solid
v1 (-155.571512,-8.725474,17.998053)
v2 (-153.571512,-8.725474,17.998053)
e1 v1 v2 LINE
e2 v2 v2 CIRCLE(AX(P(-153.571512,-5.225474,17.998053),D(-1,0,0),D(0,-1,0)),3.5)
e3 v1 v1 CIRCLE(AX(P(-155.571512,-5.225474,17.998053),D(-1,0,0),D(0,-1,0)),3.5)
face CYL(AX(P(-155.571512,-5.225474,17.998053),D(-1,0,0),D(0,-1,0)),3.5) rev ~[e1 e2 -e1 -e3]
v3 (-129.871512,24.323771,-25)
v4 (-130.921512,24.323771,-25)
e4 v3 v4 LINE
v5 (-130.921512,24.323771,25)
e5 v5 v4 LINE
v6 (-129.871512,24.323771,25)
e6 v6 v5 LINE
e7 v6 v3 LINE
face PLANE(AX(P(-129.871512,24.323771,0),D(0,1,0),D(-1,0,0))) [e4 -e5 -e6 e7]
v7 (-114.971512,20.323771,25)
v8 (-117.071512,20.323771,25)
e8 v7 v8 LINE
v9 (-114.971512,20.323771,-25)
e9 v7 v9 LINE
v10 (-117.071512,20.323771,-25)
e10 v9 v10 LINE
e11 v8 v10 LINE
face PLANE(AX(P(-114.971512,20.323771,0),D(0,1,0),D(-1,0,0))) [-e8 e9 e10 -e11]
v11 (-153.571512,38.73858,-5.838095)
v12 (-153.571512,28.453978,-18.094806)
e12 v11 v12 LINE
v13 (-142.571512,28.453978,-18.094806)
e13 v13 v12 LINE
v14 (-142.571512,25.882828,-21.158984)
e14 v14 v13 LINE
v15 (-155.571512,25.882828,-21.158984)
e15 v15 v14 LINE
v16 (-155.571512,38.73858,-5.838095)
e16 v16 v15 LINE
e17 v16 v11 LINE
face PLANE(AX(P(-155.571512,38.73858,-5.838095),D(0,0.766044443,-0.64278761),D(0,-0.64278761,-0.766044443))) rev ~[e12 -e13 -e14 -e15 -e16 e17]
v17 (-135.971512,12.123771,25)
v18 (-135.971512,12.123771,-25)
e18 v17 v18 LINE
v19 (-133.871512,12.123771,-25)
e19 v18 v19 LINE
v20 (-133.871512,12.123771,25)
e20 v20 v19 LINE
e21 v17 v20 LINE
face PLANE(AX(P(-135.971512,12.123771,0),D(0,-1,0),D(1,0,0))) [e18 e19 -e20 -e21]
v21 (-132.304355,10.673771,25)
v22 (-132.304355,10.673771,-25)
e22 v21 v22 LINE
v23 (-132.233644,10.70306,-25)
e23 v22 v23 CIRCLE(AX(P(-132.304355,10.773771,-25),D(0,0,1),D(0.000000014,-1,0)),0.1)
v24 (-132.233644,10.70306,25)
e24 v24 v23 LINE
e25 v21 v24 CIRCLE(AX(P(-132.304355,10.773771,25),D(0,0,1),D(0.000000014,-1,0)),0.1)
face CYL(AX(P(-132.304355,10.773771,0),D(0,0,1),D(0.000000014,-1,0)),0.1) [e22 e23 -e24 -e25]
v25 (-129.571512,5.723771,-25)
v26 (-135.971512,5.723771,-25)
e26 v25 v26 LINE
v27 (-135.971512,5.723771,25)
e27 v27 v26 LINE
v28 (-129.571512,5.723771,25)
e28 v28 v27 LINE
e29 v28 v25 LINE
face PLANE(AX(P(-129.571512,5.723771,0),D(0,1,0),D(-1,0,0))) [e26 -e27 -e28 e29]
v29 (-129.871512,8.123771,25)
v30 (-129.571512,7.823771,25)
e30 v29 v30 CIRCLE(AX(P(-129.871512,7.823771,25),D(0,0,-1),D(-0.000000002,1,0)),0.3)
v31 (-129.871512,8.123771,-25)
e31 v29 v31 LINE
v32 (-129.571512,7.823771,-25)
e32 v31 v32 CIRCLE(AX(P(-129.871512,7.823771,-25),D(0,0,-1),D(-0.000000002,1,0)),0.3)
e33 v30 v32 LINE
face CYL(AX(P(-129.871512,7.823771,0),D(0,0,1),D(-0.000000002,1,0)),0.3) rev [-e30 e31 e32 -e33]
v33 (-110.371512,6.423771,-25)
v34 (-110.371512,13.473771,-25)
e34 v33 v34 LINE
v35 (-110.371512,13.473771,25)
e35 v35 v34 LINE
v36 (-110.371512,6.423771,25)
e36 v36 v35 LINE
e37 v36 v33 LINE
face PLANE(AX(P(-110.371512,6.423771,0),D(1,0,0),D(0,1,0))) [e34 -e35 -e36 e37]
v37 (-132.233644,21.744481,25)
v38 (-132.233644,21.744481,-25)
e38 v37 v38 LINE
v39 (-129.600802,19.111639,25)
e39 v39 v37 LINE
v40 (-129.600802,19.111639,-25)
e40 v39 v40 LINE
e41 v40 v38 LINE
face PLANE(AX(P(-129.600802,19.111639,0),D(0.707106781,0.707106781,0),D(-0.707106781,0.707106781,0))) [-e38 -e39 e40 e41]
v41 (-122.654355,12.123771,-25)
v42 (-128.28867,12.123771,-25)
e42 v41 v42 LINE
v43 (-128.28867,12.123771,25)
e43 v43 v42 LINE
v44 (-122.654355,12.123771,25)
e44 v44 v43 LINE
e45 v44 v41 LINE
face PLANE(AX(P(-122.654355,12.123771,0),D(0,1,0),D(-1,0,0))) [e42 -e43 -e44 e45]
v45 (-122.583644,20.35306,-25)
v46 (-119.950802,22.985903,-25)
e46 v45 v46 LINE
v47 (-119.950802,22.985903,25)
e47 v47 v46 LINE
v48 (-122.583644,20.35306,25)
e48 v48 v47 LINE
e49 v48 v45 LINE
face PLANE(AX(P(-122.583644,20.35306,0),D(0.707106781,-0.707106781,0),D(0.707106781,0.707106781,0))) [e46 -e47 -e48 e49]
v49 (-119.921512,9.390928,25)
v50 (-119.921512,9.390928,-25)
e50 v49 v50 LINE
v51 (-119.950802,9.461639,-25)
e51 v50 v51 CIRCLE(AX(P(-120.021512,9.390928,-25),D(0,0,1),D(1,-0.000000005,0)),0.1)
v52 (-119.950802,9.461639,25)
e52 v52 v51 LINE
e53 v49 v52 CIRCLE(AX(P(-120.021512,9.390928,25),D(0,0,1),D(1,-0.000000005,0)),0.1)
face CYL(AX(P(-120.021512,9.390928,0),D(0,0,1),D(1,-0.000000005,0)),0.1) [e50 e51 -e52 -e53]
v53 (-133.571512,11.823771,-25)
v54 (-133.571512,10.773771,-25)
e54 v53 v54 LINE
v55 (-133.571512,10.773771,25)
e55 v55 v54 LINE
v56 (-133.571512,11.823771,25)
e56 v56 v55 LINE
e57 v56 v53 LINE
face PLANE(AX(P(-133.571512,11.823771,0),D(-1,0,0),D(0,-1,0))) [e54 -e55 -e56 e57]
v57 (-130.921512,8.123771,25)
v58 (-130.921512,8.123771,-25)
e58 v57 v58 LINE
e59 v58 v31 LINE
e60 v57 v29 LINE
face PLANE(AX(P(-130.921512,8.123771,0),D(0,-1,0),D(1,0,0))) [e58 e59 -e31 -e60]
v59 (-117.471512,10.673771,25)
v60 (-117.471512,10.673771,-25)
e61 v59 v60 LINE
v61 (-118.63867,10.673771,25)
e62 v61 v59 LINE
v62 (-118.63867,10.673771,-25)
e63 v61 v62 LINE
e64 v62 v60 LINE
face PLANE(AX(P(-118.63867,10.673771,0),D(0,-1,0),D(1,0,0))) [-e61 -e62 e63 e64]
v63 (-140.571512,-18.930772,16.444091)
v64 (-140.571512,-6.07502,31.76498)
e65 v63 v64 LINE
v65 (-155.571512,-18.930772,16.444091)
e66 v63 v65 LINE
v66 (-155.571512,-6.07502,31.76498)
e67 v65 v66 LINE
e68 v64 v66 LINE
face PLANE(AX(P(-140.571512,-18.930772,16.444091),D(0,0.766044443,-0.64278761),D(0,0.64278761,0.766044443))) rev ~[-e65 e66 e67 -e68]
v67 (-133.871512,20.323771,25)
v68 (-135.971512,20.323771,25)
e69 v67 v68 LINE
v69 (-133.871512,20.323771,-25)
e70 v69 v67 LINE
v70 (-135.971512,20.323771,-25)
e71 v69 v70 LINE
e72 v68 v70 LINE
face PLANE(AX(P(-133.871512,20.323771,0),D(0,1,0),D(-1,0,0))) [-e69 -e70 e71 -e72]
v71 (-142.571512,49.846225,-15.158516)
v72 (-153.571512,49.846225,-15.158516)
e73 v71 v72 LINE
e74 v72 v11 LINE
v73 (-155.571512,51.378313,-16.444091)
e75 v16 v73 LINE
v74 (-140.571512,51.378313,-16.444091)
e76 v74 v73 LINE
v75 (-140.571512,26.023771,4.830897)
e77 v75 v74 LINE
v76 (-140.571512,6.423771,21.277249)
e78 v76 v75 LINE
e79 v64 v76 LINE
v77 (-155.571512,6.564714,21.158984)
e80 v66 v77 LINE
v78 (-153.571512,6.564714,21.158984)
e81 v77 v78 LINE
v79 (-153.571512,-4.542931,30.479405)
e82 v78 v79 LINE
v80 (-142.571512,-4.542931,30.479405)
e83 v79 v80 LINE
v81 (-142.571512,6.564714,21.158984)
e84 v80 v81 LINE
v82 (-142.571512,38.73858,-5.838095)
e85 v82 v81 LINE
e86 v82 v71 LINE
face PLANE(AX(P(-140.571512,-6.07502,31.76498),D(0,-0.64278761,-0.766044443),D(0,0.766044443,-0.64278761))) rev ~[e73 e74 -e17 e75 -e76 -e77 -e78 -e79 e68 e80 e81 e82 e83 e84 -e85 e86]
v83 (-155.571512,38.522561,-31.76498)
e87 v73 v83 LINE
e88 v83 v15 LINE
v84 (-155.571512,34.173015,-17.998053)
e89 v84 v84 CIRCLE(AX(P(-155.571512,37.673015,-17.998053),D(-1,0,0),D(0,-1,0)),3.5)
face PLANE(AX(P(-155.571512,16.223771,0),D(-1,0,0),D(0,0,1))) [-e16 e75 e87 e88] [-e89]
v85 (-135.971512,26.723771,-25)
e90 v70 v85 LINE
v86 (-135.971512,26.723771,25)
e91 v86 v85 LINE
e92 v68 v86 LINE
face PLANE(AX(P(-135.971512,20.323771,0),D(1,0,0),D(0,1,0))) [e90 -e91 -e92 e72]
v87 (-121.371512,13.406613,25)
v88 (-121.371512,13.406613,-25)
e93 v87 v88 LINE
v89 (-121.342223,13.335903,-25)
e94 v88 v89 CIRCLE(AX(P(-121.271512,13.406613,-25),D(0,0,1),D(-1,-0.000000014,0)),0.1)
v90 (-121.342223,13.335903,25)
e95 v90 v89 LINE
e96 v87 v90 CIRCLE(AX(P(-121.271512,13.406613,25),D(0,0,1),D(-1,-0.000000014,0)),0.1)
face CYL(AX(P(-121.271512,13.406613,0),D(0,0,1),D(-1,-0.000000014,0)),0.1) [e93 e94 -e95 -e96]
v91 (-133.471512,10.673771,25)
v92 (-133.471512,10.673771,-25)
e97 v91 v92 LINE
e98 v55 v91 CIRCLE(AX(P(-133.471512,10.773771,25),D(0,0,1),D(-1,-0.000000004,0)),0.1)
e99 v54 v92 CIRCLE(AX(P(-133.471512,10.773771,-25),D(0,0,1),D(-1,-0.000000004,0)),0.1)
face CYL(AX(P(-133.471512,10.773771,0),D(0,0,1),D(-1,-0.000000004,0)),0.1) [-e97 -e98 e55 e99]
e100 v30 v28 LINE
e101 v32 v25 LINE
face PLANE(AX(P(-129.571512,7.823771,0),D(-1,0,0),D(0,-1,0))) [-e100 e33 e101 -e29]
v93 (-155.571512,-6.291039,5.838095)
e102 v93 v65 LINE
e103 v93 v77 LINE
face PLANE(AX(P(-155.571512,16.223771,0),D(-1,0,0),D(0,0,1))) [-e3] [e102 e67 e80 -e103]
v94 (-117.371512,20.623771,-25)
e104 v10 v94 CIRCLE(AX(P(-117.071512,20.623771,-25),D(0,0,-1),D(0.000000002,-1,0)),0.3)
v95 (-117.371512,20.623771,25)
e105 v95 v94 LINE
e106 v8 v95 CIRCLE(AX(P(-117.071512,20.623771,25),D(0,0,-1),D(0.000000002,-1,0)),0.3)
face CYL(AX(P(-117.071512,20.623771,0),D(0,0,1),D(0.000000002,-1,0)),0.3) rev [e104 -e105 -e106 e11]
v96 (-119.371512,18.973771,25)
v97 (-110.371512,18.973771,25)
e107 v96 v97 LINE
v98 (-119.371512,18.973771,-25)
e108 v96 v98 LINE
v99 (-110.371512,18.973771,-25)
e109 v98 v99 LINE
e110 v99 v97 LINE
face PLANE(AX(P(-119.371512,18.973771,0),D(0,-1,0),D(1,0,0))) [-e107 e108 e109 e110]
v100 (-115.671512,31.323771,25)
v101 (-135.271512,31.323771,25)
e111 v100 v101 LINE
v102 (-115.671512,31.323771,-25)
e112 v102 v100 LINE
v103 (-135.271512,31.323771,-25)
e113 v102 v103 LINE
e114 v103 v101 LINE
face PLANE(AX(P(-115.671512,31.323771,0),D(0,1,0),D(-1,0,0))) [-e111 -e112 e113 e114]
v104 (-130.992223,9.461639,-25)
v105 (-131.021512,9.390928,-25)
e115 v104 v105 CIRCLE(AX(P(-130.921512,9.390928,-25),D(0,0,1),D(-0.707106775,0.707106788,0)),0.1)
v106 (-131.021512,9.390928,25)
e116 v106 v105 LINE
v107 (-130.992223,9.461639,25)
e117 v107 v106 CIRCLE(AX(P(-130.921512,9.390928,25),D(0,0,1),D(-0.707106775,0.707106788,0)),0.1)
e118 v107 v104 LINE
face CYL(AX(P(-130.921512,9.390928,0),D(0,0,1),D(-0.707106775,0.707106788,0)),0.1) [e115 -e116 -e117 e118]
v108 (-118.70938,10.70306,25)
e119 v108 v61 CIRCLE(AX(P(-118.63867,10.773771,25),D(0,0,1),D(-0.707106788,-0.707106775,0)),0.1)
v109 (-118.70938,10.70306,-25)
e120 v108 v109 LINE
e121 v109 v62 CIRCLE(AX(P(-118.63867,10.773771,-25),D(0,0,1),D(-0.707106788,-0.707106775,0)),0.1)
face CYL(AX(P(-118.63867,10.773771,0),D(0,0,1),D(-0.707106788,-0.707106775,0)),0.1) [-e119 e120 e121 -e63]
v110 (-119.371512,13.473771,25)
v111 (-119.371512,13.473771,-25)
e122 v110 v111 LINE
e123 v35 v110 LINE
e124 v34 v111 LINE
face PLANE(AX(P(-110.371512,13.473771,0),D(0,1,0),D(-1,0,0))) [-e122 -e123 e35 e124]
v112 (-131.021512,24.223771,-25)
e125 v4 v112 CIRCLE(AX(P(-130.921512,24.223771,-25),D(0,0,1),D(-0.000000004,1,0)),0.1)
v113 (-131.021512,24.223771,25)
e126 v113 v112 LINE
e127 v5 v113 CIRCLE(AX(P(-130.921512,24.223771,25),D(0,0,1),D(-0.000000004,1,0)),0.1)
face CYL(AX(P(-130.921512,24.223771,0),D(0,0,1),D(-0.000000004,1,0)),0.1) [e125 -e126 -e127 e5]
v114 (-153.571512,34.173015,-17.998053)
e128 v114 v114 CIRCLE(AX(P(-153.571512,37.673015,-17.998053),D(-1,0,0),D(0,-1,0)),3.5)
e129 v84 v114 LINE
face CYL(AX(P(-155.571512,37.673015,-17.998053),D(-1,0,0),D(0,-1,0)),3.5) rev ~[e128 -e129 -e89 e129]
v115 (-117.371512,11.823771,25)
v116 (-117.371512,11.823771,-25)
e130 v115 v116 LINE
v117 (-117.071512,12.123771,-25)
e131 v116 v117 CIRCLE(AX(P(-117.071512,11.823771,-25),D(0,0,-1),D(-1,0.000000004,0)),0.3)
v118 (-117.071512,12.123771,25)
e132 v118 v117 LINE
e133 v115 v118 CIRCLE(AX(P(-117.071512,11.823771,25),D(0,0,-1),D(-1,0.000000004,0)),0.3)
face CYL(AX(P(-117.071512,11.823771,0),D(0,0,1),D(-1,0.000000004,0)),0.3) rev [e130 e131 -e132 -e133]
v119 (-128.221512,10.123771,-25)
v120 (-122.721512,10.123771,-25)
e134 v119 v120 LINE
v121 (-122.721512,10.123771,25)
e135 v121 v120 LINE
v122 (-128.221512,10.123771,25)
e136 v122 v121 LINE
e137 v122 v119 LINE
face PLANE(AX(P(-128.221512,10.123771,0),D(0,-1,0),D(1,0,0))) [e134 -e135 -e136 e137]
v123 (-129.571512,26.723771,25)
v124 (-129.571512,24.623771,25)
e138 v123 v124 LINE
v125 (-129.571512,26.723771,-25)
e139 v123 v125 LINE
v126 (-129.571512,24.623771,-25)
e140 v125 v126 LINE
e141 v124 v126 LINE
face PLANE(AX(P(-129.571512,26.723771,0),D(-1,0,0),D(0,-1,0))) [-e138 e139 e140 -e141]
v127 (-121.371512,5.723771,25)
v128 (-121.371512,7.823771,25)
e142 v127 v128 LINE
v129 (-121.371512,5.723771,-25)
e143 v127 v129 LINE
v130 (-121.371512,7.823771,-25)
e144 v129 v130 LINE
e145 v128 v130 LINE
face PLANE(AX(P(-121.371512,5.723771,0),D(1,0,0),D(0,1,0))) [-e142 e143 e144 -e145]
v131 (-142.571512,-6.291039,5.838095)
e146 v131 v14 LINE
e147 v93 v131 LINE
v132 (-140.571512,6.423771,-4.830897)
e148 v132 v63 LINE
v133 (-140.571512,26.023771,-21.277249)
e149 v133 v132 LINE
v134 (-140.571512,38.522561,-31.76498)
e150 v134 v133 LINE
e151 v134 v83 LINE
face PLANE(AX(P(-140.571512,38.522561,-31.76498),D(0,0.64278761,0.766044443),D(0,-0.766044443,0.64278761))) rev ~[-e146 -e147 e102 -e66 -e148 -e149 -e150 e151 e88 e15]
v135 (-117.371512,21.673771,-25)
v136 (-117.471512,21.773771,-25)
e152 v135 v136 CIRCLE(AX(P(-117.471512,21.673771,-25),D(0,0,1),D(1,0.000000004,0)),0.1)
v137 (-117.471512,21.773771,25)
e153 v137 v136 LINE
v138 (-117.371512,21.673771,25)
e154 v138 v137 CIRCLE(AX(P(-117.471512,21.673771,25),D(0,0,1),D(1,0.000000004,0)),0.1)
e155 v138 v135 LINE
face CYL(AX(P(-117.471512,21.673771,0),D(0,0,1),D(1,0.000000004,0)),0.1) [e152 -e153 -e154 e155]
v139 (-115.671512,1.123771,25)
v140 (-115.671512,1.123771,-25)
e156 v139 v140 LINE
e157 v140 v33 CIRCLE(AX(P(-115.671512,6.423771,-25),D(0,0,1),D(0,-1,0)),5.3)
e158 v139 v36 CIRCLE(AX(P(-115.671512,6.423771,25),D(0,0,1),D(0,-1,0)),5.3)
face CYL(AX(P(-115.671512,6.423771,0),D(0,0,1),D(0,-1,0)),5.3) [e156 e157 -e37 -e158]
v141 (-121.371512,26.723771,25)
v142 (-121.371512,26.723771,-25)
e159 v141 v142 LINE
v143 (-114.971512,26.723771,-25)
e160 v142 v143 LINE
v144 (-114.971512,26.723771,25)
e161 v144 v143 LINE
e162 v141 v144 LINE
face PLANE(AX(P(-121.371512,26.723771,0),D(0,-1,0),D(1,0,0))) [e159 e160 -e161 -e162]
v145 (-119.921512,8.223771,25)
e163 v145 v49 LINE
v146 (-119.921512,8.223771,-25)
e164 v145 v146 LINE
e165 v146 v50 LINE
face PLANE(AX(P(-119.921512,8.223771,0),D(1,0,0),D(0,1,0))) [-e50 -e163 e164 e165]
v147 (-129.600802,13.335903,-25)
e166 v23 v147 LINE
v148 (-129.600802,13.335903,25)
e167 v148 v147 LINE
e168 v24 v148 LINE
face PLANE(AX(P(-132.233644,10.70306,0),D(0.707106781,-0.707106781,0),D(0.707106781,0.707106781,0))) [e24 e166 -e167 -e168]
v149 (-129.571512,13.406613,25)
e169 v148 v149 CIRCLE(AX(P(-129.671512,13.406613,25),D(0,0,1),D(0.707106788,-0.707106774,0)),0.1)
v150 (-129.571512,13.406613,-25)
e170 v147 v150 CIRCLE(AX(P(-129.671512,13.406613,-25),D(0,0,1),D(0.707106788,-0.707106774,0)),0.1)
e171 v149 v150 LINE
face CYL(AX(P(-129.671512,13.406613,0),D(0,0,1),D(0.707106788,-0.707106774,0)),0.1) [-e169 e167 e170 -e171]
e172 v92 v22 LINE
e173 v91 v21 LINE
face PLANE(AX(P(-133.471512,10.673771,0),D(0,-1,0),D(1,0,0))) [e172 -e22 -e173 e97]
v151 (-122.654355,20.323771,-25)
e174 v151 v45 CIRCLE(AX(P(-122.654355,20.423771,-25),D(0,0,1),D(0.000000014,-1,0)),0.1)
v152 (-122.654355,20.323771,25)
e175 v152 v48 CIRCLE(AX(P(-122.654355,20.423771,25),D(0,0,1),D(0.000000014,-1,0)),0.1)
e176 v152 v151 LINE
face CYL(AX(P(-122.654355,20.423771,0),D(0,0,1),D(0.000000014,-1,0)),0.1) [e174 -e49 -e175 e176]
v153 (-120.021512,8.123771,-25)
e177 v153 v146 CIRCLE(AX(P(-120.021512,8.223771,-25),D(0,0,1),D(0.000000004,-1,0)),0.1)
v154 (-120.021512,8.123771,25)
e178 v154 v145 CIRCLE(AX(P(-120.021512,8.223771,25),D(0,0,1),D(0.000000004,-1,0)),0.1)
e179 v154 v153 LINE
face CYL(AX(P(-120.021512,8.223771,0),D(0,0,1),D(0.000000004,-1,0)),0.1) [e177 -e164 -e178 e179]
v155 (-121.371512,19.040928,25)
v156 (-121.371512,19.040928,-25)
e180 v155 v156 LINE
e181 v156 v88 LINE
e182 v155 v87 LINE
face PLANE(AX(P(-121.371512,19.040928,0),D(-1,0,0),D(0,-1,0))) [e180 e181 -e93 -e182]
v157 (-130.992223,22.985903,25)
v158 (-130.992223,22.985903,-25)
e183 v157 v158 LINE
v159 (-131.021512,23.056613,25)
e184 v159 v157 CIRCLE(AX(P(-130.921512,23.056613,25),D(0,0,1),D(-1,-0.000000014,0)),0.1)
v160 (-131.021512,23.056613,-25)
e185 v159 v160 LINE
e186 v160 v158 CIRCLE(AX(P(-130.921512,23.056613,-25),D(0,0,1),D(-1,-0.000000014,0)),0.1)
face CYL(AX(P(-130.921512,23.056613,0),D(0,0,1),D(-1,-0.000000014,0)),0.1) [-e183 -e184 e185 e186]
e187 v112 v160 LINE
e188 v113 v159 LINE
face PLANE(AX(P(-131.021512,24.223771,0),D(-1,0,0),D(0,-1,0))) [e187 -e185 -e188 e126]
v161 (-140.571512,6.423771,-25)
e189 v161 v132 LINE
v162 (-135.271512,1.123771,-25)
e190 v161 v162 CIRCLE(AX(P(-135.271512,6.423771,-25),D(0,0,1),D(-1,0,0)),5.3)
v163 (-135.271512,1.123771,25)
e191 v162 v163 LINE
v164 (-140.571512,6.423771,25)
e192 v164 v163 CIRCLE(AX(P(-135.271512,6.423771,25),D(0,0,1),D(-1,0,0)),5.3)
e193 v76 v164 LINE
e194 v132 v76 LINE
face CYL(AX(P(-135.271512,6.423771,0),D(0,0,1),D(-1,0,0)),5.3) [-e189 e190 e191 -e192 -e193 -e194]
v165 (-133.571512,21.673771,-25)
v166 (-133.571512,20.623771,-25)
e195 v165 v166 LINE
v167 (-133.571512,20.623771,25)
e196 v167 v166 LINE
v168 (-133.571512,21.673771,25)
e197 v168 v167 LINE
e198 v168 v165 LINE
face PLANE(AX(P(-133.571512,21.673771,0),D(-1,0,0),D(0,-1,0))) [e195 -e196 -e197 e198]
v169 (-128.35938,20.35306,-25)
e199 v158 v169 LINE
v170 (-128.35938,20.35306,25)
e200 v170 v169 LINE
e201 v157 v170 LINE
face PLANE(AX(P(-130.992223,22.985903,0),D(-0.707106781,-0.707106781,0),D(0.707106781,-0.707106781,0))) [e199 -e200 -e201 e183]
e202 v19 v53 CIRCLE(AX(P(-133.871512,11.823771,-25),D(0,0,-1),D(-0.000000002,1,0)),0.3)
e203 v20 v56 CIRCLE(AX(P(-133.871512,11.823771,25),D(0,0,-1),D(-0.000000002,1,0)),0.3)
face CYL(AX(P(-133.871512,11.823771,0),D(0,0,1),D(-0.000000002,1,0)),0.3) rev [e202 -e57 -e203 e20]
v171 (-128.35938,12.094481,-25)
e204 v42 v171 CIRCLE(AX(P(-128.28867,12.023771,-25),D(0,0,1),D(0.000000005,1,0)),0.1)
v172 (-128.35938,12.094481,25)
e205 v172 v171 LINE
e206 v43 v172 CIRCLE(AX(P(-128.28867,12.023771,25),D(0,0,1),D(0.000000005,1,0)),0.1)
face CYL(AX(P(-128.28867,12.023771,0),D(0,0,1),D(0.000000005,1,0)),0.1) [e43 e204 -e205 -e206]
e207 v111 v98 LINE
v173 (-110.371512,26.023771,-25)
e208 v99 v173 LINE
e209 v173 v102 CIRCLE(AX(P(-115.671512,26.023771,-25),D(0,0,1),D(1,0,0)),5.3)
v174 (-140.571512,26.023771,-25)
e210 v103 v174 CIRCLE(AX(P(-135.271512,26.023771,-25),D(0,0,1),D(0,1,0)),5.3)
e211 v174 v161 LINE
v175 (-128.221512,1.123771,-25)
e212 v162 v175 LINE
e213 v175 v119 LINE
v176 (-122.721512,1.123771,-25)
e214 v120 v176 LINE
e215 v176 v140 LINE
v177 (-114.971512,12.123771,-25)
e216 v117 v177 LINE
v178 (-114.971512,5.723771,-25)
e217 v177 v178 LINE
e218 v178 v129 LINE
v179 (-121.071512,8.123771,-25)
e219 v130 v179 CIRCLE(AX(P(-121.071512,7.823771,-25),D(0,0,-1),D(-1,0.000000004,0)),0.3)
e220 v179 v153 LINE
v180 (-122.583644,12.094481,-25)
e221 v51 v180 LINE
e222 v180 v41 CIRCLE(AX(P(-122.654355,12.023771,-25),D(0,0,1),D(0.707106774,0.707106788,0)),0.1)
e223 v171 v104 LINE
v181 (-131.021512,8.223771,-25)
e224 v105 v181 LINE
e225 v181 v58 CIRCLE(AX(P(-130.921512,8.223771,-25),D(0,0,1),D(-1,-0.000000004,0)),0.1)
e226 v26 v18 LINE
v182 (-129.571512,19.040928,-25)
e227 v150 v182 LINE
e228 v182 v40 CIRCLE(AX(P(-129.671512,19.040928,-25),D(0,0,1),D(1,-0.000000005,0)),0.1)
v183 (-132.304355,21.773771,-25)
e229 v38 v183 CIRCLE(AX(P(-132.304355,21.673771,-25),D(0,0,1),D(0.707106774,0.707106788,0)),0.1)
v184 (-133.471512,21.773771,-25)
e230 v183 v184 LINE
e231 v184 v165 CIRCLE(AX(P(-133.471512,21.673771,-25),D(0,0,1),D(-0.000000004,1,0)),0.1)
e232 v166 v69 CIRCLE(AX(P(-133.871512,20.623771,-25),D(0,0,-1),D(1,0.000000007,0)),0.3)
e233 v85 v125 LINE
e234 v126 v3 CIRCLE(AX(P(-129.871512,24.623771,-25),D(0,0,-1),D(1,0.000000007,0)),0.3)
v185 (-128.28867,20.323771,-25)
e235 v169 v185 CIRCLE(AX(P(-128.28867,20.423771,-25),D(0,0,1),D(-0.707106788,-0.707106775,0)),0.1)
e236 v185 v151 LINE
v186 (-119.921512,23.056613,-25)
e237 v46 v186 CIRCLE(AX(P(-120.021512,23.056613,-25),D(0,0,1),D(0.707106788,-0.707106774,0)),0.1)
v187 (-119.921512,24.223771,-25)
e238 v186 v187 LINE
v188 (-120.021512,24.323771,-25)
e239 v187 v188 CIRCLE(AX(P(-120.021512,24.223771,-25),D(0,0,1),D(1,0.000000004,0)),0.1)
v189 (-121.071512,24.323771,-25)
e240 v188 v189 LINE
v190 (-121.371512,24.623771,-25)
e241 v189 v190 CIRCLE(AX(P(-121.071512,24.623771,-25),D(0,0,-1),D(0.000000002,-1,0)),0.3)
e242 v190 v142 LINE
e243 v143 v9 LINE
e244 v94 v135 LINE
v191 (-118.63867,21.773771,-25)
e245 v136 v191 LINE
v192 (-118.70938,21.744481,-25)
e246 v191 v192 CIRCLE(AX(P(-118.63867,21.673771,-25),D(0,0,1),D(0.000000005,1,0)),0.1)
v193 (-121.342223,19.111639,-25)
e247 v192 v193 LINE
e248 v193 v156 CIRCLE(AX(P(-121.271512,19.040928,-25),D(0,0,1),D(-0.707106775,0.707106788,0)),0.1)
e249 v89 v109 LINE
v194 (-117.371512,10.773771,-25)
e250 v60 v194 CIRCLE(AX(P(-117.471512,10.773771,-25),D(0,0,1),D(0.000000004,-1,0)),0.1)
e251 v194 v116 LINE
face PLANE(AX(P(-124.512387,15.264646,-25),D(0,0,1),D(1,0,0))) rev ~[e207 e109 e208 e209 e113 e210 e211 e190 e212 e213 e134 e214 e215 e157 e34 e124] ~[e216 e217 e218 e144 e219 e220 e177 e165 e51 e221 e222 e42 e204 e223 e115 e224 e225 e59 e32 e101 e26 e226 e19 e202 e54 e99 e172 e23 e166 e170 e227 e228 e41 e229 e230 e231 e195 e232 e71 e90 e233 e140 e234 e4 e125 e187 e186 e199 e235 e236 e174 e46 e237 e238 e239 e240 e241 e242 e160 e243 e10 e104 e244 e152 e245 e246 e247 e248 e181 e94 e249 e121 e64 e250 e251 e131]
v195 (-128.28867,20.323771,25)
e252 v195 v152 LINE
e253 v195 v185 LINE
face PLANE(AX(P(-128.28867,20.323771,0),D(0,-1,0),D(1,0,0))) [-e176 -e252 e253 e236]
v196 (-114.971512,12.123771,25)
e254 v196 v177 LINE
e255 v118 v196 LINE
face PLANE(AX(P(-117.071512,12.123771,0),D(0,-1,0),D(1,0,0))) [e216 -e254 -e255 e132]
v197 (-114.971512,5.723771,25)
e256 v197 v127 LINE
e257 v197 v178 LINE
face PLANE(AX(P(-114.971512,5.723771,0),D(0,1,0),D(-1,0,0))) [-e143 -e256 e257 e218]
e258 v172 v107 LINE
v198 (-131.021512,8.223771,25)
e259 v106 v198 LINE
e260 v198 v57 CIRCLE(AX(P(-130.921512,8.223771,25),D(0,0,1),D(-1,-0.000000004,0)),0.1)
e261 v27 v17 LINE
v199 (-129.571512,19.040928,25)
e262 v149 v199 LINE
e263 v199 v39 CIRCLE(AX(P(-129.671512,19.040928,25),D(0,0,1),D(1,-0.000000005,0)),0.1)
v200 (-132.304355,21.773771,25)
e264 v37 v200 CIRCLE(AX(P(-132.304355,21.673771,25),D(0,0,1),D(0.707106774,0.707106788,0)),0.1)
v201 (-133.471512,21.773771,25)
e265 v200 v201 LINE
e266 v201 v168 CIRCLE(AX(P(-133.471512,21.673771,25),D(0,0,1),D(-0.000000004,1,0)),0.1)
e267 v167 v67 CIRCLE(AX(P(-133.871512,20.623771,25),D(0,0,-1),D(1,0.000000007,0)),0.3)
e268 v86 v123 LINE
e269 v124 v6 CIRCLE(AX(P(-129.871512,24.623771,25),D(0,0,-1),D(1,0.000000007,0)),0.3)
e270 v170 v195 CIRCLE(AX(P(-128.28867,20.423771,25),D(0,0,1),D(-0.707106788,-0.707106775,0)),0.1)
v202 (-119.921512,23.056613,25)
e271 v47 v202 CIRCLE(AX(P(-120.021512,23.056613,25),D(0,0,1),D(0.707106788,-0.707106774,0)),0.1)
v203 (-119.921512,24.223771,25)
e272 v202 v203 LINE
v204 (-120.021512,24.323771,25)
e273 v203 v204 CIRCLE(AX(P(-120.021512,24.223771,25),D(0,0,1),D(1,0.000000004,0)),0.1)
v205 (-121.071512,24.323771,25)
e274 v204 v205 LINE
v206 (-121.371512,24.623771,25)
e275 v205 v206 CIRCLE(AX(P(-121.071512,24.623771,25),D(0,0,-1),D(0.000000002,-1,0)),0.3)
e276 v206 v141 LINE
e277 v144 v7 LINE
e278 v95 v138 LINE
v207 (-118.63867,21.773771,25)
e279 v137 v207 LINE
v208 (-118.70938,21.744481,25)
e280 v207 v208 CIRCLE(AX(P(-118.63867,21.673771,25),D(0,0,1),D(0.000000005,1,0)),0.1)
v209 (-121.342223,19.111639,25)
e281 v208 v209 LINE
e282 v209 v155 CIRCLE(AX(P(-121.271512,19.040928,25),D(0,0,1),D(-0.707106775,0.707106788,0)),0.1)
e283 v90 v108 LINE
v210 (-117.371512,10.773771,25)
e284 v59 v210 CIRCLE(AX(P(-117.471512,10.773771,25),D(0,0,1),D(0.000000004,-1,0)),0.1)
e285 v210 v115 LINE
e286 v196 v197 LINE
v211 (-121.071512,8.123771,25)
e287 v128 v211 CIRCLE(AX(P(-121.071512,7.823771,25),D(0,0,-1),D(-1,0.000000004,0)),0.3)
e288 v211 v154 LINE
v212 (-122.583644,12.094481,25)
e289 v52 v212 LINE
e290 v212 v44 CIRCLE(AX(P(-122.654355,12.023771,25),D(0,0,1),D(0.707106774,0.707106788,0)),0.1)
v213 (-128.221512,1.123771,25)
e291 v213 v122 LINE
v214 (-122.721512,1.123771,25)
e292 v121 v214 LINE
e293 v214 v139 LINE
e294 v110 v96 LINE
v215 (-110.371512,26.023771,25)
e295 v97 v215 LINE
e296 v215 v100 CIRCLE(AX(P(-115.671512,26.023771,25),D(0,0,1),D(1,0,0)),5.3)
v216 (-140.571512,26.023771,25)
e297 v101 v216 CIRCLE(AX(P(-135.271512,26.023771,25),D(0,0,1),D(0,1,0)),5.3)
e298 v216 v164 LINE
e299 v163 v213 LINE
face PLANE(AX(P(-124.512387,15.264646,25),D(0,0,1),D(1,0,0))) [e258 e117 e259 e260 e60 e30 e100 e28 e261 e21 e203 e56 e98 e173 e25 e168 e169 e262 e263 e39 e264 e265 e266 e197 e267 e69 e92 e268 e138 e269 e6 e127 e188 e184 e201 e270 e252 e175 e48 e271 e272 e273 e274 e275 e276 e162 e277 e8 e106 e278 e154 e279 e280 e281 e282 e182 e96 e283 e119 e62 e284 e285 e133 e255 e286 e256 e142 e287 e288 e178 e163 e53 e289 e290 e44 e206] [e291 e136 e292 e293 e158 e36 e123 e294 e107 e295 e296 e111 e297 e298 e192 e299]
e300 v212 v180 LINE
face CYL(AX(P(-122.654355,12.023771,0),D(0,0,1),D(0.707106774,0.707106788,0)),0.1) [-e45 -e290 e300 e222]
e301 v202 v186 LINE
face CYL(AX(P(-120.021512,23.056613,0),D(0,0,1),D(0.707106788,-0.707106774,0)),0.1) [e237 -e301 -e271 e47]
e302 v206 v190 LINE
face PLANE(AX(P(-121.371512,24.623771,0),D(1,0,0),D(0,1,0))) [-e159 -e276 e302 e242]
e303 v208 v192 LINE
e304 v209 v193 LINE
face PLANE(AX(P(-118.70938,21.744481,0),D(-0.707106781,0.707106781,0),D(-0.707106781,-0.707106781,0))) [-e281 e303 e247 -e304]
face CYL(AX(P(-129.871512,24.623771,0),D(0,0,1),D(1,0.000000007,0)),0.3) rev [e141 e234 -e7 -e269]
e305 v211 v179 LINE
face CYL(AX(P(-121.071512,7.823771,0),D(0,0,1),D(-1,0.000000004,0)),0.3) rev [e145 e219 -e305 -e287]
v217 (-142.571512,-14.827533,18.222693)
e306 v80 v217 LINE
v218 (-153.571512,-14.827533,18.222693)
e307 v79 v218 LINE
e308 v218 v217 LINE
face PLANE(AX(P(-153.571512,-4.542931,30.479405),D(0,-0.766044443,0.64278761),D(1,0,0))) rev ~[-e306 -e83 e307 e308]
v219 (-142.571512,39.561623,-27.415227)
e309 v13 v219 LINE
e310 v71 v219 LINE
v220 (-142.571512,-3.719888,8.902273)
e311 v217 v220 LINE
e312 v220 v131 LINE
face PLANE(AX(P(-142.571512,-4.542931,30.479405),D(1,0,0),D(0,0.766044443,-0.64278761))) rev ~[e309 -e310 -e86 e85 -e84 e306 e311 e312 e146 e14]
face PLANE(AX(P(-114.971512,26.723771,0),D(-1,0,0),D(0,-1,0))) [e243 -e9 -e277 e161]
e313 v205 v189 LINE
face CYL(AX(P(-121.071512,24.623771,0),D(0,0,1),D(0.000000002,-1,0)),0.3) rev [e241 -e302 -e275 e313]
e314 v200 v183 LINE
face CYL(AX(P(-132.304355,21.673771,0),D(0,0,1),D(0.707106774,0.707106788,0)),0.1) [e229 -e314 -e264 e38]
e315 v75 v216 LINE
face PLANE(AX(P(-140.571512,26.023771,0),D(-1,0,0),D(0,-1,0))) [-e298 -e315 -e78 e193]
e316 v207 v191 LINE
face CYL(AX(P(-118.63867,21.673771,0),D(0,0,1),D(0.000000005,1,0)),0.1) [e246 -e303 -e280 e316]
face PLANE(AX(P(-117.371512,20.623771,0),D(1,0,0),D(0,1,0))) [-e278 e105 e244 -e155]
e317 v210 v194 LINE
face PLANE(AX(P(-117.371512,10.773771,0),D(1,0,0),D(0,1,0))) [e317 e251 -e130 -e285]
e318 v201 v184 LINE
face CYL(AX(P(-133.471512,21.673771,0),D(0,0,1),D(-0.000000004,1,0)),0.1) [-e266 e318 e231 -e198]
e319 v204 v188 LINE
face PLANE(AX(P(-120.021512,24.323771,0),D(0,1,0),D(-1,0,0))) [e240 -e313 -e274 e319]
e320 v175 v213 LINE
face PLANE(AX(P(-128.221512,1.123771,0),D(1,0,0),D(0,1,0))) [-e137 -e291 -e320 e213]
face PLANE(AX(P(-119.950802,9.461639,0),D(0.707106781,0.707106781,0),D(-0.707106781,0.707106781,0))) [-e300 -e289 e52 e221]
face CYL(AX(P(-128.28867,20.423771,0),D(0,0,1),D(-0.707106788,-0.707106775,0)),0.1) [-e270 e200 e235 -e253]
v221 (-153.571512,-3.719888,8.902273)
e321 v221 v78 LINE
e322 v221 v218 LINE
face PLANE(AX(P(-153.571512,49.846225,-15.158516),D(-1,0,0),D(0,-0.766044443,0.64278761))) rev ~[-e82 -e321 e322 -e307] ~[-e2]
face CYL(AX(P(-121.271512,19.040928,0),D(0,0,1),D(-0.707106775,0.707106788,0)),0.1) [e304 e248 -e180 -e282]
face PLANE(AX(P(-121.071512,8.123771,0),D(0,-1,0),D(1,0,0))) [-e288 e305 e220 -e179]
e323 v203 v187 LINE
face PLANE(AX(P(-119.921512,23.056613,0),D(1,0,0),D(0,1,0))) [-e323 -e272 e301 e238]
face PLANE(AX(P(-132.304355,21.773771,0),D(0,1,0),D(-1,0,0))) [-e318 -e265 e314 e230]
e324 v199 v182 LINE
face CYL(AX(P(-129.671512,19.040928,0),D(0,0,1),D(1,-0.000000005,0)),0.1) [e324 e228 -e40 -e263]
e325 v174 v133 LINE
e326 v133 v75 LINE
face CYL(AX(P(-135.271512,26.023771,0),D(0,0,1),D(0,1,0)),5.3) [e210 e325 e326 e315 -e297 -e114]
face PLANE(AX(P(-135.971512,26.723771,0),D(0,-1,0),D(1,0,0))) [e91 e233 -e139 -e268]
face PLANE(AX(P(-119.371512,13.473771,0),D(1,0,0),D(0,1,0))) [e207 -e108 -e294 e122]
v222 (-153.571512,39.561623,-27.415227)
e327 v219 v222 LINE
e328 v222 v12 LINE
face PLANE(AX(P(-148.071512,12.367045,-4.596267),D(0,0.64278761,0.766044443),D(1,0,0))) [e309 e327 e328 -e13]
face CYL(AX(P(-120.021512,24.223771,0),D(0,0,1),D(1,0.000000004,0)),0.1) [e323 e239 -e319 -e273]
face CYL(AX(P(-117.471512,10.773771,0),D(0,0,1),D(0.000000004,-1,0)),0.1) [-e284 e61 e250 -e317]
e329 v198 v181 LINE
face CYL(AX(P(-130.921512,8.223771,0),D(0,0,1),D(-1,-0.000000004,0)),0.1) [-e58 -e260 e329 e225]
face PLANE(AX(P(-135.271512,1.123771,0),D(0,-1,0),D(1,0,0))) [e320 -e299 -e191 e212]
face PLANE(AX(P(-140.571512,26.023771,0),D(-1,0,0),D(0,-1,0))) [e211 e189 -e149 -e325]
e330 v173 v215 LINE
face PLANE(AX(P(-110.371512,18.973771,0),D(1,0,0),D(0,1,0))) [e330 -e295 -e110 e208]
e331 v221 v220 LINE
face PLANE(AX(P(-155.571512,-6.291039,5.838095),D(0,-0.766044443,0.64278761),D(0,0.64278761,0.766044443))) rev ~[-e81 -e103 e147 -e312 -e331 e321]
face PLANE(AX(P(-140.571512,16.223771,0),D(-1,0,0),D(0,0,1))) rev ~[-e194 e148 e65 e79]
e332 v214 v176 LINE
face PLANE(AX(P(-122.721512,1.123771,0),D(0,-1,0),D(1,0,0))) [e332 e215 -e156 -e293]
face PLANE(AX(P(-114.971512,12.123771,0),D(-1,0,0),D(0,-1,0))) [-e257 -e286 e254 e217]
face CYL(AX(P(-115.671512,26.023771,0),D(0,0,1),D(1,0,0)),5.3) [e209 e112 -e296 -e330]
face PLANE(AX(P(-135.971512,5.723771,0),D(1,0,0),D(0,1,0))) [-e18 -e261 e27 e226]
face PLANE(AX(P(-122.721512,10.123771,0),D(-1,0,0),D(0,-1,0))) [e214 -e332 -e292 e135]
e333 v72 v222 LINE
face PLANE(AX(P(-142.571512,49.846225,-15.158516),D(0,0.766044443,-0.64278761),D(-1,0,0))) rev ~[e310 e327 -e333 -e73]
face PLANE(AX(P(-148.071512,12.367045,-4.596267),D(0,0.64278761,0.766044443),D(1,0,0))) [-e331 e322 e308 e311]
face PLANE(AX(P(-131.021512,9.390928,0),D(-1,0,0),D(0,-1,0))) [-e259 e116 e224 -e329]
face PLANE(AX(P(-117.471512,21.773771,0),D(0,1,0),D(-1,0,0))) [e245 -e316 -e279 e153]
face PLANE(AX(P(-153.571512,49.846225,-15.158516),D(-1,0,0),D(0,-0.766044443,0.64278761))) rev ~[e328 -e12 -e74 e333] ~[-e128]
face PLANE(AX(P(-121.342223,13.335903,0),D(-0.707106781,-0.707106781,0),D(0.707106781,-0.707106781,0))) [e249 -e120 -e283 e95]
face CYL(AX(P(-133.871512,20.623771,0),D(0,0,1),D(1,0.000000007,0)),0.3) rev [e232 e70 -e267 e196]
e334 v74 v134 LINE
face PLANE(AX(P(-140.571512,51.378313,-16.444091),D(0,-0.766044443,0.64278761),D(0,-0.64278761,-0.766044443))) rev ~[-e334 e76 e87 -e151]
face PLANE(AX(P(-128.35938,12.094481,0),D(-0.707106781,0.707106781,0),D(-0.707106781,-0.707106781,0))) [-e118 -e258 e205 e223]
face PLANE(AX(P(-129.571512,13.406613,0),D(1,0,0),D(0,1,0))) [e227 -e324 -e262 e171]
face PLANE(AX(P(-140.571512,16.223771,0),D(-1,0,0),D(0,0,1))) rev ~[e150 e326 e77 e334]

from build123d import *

# Parameters (mm, degrees)
Y_KSEKLIK_EKSTR_ZYON3_DEPTH = 25
Y_KSEKLIK_EKSTR_ZYON4_DEPTH = 15
IZIM11_R                    = 3.5
KES_EKSTR_ZYON3_DEPTH       = 10
KES_EKSTR_ZYON4_DEPTH       = 16
KES_EKSTR_ZYON5_REACH       = 77.444


with BuildPart() as part:
    # Çizim6 → Yükseklik-Ekstrüzyon3 (new, symmetric)
    with BuildSketch(Plane.XY):
        with BuildLine():
            Line((-119.371512251, 18.973770729), (-115.371512251, 18.973770729))
            Line((-115.371512251, 18.973770729), (-110.371512251, 18.973770729))
            Line((-110.371512251, 18.973770729), (-110.371512251, 20.773770729))
            Line((-110.371512251, 20.773770729), (-110.371512251, 26.023770729))
            ThreePointArc((-110.371512251, 26.023770729), (-111.92384631, 29.771436669), (-115.671512251, 31.323770729))
            Line((-115.671512251, 31.323770729), (-120.921512251, 31.323770729))
            Line((-120.921512251, 31.323770729), (-122.721512251, 31.323770729))
            Line((-122.721512251, 31.323770729), (-128.221512251, 31.323770729))
            Line((-128.221512251, 31.323770729), (-130.021512251, 31.323770729))
            Line((-130.021512251, 31.323770729), (-135.271512251, 31.323770729))
            ThreePointArc((-135.271512251, 31.323770729), (-139.019178191, 29.771436669), (-140.571512251, 26.023770729))
            Line((-140.571512251, 26.023770729), (-140.571512251, 20.773770729))
            Line((-140.571512251, 20.773770729), (-140.571512251, 16.223770729))
            Line((-140.571512251, 16.223770729), (-140.571512251, 11.673770729))
            Line((-140.571512251, 11.673770729), (-140.571512251, 6.423770729))
            ThreePointArc((-140.571512251, 6.423770729), (-139.019178191, 2.676104789), (-135.271512251, 1.123770729))
            Line((-135.271512251, 1.123770729), (-130.021512251, 1.123770729))
            Line((-130.021512251, 1.123770729), (-128.221512251, 1.123770729))
            Line((-128.221512251, 1.123770729), (-128.221512251, 6.123770729))
            Line((-128.221512251, 6.123770729), (-128.221512251, 10.123770729))
            Line((-128.221512251, 10.123770729), (-122.721512251, 10.123770729))
            Line((-122.721512251, 10.123770729), (-122.721512251, 6.123770729))
            Line((-122.721512251, 6.123770729), (-122.721512251, 1.123770729))
            Line((-122.721512251, 1.123770729), (-120.921512251, 1.123770729))
            Line((-120.921512251, 1.123770729), (-115.671512251, 1.123770729))
            ThreePointArc((-115.671512251, 1.123770729), (-111.92384631, 2.676104789), (-110.371512251, 6.423770729))
            Line((-110.371512251, 6.423770729), (-110.371512251, 11.673770729))
            Line((-110.371512251, 11.673770729), (-110.371512251, 13.473770729))
            Line((-110.371512251, 13.473770729), (-115.371512251, 13.473770729))
            Line((-115.371512251, 13.473770729), (-119.371512251, 13.473770729))
            Line((-119.371512251, 13.473770729), (-119.371512251, 18.973770729))
        make_face()
        with BuildLine():
            Line((-133.871512251, 20.323770729), (-135.071512251, 20.323770729))
            Line((-135.071512251, 20.323770729), (-135.871512251, 20.323770729))
            Line((-135.871512251, 20.323770729), (-135.971512251, 20.323770729))
            Line((-135.971512251, 20.323770729), (-135.971512251, 26.723770729))
            Line((-135.971512251, 26.723770729), (-129.571512251, 26.723770729))
            Line((-129.571512251, 26.723770729), (-129.571512251, 26.623770729))
            Line((-129.571512251, 26.623770729), (-129.571512251, 25.823770729))
            Line((-129.571512251, 25.823770729), (-129.571512251, 24.623770729))
            ThreePointArc((-129.571512251, 24.623770729), (-129.659380216, 24.411638694), (-129.871512251, 24.323770729))
            Line((-129.871512251, 24.323770729), (-130.921512251, 24.323770729))
            ThreePointArc((-130.921512251, 24.323770729), (-130.992222929, 24.294481407), (-131.021512251, 24.223770729))
            Line((-131.021512251, 24.223770729), (-131.021512251, 23.056613441))
            ThreePointArc((-131.021512251, 23.056613441), (-131.013900204, 23.018345098), (-130.992222929, 22.985902763))
            Line((-130.992222929, 22.985902763), (-128.359380216, 20.353060051))
            ThreePointArc((-128.359380216, 20.353060051), (-128.326937882, 20.331382776), (-128.288669538, 20.323770729))
            Line((-128.288669538, 20.323770729), (-122.654354963, 20.323770729))
            ThreePointArc((-122.654354963, 20.323770729), (-122.61608662, 20.331382776), (-122.583644285, 20.353060051))
            Line((-122.583644285, 20.353060051), (-119.950801573, 22.985902763))
            ThreePointArc((-119.950801573, 22.985902763), (-119.929124298, 23.018345098), (-119.921512251, 23.056613441))
            Line((-119.921512251, 23.056613441), (-119.921512251, 24.223770729))
            ThreePointArc((-119.921512251, 24.223770729), (-119.950801573, 24.294481407), (-120.021512251, 24.323770729))
            Line((-120.021512251, 24.323770729), (-121.071512251, 24.323770729))
            ThreePointArc((-121.071512251, 24.323770729), (-121.283644285, 24.411638694), (-121.371512251, 24.623770729))
            Line((-121.371512251, 24.623770729), (-121.371512251, 25.823770729))
            Line((-121.371512251, 25.823770729), (-121.371512251, 26.323770729))
            Line((-121.371512251, 26.323770729), (-121.371512251, 26.723770729))
            Line((-121.371512251, 26.723770729), (-114.971512251, 26.723770729))
            Line((-114.971512251, 26.723770729), (-114.971512251, 20.323770729))
            Line((-114.971512251, 20.323770729), (-115.371512251, 20.323770729))
            Line((-115.371512251, 20.323770729), (-115.871512251, 20.323770729))
            Line((-115.871512251, 20.323770729), (-117.071512251, 20.323770729))
            ThreePointArc((-117.071512251, 20.323770729), (-117.283644285, 20.411638694), (-117.371512251, 20.623770729))
            Line((-117.371512251, 20.623770729), (-117.371512251, 21.673770729))
            ThreePointArc((-117.371512251, 21.673770729), (-117.400801573, 21.744481407), (-117.471512251, 21.773770729))
            Line((-117.471512251, 21.773770729), (-118.638669538, 21.773770729))
            ThreePointArc((-118.638669538, 21.773770729), (-118.676937882, 21.766158682), (-118.709380216, 21.744481407))
            Line((-118.709380216, 21.744481407), (-121.342222929, 19.111638694))
            ThreePointArc((-121.342222929, 19.111638694), (-121.363900204, 19.07919636), (-121.371512251, 19.040928016))
            Line((-121.371512251, 19.040928016), (-121.371512251, 13.406613441))
            ThreePointArc((-121.371512251, 13.406613441), (-121.363900204, 13.368345098), (-121.342222929, 13.335902763))
            Line((-121.342222929, 13.335902763), (-118.709380216, 10.703060051))
            ThreePointArc((-118.709380216, 10.703060051), (-118.676937882, 10.681382776), (-118.638669538, 10.673770729))
            Line((-118.638669538, 10.673770729), (-117.471512251, 10.673770729))
            ThreePointArc((-117.471512251, 10.673770729), (-117.400801573, 10.703060051), (-117.371512251, 10.773770729))
            Line((-117.371512251, 10.773770729), (-117.371512251, 11.823770729))
            ThreePointArc((-117.371512251, 11.823770729), (-117.283644285, 12.035902763), (-117.071512251, 12.123770729))
            Line((-117.071512251, 12.123770729), (-115.871512251, 12.123770729))
            Line((-115.871512251, 12.123770729), (-115.371512251, 12.123770729))
            Line((-115.371512251, 12.123770729), (-114.971512251, 12.123770729))
            Line((-114.971512251, 12.123770729), (-114.971512251, 5.723770729))
            Line((-114.971512251, 5.723770729), (-121.371512251, 5.723770729))
            Line((-121.371512251, 5.723770729), (-121.371512251, 6.123770729))
            Line((-121.371512251, 6.123770729), (-121.371512251, 6.623770729))
            Line((-121.371512251, 6.623770729), (-121.371512251, 7.823770729))
            ThreePointArc((-121.371512251, 7.823770729), (-121.283644285, 8.035902763), (-121.071512251, 8.123770729))
            Line((-121.071512251, 8.123770729), (-120.021512251, 8.123770729))
            ThreePointArc((-120.021512251, 8.123770729), (-119.950801573, 8.153060051), (-119.921512251, 8.223770729))
            Line((-119.921512251, 8.223770729), (-119.921512251, 9.390928016))
            ThreePointArc((-119.921512251, 9.390928016), (-119.929124298, 9.42919636), (-119.950801573, 9.461638694))
            Line((-119.950801573, 9.461638694), (-122.583644285, 12.094481407))
            ThreePointArc((-122.583644285, 12.094481407), (-122.61608662, 12.116158682), (-122.654354963, 12.123770729))
            Line((-122.654354963, 12.123770729), (-128.288669538, 12.123770729))
            ThreePointArc((-128.288669538, 12.123770729), (-128.326937882, 12.116158682), (-128.359380216, 12.094481407))
            Line((-128.359380216, 12.094481407), (-130.992222929, 9.461638694))
            ThreePointArc((-130.992222929, 9.461638694), (-131.013900204, 9.42919636), (-131.021512251, 9.390928016))
            Line((-131.021512251, 9.390928016), (-131.021512251, 8.223770729))
            ThreePointArc((-131.021512251, 8.223770729), (-130.992222929, 8.153060051), (-130.921512251, 8.123770729))
            Line((-130.921512251, 8.123770729), (-129.871512251, 8.123770729))
            ThreePointArc((-129.871512251, 8.123770729), (-129.659380216, 8.035902763), (-129.571512251, 7.823770729))
            Line((-129.571512251, 7.823770729), (-129.571512251, 6.623770729))
            Line((-129.571512251, 6.623770729), (-129.571512251, 6.123770729))
            Line((-129.571512251, 6.123770729), (-129.571512251, 5.723770729))
            Line((-129.571512251, 5.723770729), (-135.971512251, 5.723770729))
            Line((-135.971512251, 5.723770729), (-135.971512251, 12.123770729))
            Line((-135.971512251, 12.123770729), (-135.571512251, 12.123770729))
            Line((-135.571512251, 12.123770729), (-135.071512251, 12.123770729))
            Line((-135.071512251, 12.123770729), (-133.871512251, 12.123770729))
            ThreePointArc((-133.871512251, 12.123770729), (-133.659380216, 12.035902763), (-133.571512251, 11.823770729))
            Line((-133.571512251, 11.823770729), (-133.571512251, 10.773770729))
            ThreePointArc((-133.571512251, 10.773770729), (-133.542222929, 10.703060051), (-133.471512251, 10.673770729))
            Line((-133.471512251, 10.673770729), (-132.304354963, 10.673770729))
            ThreePointArc((-132.304354963, 10.673770729), (-132.26608662, 10.681382776), (-132.233644285, 10.703060051))
            Line((-132.233644285, 10.703060051), (-129.600801573, 13.335902763))
            ThreePointArc((-129.600801573, 13.335902763), (-129.579124298, 13.368345098), (-129.571512251, 13.406613441))
            Line((-129.571512251, 13.406613441), (-129.571512251, 19.040928016))
            ThreePointArc((-129.571512251, 19.040928016), (-129.579124298, 19.07919636), (-129.600801573, 19.111638694))
            Line((-129.600801573, 19.111638694), (-132.233644285, 21.744481407))
            ThreePointArc((-132.233644285, 21.744481407), (-132.26608662, 21.766158682), (-132.304354963, 21.773770729))
            Line((-132.304354963, 21.773770729), (-133.471512251, 21.773770729))
            ThreePointArc((-133.471512251, 21.773770729), (-133.542222929, 21.744481407), (-133.571512251, 21.673770729))
            Line((-133.571512251, 21.673770729), (-133.571512251, 20.623770729))
            ThreePointArc((-133.571512251, 20.623770729), (-133.659380216, 20.411638694), (-133.871512251, 20.323770729))
        make_face(mode=Mode.SUBTRACT)
    extrude(amount=Y_KSEKLIK_EKSTR_ZYON3_DEPTH, both=True)

    # Çizim8 → Yükseklik-Ekstrüzyon4 (add)
    with BuildSketch(Plane.ZY.offset(140.571512251)):
        Polygon((31.764979794, -6.075019791), (-16.444090932, 51.378313443), (-31.764979794, 38.522561249), (16.444090932, -18.930771985), align=None)
    extrude(amount=Y_KSEKLIK_EKSTR_ZYON4_DEPTH)

    # Çizim11 → Kes-Ekstrüzyon3 (cut)
    with BuildSketch(Plane.ZY.offset(155.571512251)):
        with Locations(Location((17.998053071, -5.225473678, 0), (0, 0, 270))):
            Circle(IZIM11_R)
        with Locations(Location((-17.998053071, 37.673015136, 0), (0, 0, 270))):
            Circle(IZIM11_R)
    extrude(amount=-KES_EKSTR_ZYON3_DEPTH, mode=Mode.SUBTRACT)

    # Çizim12 → Kes-Ekstrüzyon4 (cut)
    with BuildSketch(Plane(origin=(0, 13.13114735, 15.64909203), x_dir=(1, 0, 0), z_dir=(-3.3982743057988955e-15, 0.6427876096865416, 0.7660444431189761))):
        Polygon((-142.571512251, 47.928129413), (-153.571512251, 47.928129413), (-153.571512251, 36.149140278), (-153.571512251, -23.071870587), (-142.571512251, -23.071870587), (-142.571512251, -8.755858334), (-142.571512251, 16.830124537), align=None)
    extrude(amount=-KES_EKSTR_ZYON4_DEPTH, mode=Mode.SUBTRACT)

    # Kes-Ekstrüzyon5: up to this face of the body (flat: up to its plane)
    kes_ekstr_zyon5_end = Plane(part.part.faces().sort_by_distance((-142.571512251, 17.509345948, 1.532088886))[0])
    # Çizim13 → Kes-Ekstrüzyon5 (cut, up to the picked face)
    with BuildSketch(Plane.ZY.offset(155.571512251), mode=Mode.PRIVATE) as kes_ekstr_zyon5_sk1:
        Polygon((-5.838095372, 38.738580131), (-21.158984235, 25.882827937), (5.838095372, -6.291038674), (21.158984235, 6.56471352), align=None)
    kes_ekstr_zyon5_tool1 = split(extrude(kes_ekstr_zyon5_sk1.sketch, amount=-KES_EKSTR_ZYON5_REACH, mode=Mode.PRIVATE), bisect_by=kes_ekstr_zyon5_end, keep=Keep.BOTH, mode=Mode.PRIVATE)
    add(kes_ekstr_zyon5_tool1.solids().sort_by(Axis((-155.571512, 16.223771, 0), (1, 0, 0)))[0], mode=Mode.SUBTRACT)


solid = part.part
